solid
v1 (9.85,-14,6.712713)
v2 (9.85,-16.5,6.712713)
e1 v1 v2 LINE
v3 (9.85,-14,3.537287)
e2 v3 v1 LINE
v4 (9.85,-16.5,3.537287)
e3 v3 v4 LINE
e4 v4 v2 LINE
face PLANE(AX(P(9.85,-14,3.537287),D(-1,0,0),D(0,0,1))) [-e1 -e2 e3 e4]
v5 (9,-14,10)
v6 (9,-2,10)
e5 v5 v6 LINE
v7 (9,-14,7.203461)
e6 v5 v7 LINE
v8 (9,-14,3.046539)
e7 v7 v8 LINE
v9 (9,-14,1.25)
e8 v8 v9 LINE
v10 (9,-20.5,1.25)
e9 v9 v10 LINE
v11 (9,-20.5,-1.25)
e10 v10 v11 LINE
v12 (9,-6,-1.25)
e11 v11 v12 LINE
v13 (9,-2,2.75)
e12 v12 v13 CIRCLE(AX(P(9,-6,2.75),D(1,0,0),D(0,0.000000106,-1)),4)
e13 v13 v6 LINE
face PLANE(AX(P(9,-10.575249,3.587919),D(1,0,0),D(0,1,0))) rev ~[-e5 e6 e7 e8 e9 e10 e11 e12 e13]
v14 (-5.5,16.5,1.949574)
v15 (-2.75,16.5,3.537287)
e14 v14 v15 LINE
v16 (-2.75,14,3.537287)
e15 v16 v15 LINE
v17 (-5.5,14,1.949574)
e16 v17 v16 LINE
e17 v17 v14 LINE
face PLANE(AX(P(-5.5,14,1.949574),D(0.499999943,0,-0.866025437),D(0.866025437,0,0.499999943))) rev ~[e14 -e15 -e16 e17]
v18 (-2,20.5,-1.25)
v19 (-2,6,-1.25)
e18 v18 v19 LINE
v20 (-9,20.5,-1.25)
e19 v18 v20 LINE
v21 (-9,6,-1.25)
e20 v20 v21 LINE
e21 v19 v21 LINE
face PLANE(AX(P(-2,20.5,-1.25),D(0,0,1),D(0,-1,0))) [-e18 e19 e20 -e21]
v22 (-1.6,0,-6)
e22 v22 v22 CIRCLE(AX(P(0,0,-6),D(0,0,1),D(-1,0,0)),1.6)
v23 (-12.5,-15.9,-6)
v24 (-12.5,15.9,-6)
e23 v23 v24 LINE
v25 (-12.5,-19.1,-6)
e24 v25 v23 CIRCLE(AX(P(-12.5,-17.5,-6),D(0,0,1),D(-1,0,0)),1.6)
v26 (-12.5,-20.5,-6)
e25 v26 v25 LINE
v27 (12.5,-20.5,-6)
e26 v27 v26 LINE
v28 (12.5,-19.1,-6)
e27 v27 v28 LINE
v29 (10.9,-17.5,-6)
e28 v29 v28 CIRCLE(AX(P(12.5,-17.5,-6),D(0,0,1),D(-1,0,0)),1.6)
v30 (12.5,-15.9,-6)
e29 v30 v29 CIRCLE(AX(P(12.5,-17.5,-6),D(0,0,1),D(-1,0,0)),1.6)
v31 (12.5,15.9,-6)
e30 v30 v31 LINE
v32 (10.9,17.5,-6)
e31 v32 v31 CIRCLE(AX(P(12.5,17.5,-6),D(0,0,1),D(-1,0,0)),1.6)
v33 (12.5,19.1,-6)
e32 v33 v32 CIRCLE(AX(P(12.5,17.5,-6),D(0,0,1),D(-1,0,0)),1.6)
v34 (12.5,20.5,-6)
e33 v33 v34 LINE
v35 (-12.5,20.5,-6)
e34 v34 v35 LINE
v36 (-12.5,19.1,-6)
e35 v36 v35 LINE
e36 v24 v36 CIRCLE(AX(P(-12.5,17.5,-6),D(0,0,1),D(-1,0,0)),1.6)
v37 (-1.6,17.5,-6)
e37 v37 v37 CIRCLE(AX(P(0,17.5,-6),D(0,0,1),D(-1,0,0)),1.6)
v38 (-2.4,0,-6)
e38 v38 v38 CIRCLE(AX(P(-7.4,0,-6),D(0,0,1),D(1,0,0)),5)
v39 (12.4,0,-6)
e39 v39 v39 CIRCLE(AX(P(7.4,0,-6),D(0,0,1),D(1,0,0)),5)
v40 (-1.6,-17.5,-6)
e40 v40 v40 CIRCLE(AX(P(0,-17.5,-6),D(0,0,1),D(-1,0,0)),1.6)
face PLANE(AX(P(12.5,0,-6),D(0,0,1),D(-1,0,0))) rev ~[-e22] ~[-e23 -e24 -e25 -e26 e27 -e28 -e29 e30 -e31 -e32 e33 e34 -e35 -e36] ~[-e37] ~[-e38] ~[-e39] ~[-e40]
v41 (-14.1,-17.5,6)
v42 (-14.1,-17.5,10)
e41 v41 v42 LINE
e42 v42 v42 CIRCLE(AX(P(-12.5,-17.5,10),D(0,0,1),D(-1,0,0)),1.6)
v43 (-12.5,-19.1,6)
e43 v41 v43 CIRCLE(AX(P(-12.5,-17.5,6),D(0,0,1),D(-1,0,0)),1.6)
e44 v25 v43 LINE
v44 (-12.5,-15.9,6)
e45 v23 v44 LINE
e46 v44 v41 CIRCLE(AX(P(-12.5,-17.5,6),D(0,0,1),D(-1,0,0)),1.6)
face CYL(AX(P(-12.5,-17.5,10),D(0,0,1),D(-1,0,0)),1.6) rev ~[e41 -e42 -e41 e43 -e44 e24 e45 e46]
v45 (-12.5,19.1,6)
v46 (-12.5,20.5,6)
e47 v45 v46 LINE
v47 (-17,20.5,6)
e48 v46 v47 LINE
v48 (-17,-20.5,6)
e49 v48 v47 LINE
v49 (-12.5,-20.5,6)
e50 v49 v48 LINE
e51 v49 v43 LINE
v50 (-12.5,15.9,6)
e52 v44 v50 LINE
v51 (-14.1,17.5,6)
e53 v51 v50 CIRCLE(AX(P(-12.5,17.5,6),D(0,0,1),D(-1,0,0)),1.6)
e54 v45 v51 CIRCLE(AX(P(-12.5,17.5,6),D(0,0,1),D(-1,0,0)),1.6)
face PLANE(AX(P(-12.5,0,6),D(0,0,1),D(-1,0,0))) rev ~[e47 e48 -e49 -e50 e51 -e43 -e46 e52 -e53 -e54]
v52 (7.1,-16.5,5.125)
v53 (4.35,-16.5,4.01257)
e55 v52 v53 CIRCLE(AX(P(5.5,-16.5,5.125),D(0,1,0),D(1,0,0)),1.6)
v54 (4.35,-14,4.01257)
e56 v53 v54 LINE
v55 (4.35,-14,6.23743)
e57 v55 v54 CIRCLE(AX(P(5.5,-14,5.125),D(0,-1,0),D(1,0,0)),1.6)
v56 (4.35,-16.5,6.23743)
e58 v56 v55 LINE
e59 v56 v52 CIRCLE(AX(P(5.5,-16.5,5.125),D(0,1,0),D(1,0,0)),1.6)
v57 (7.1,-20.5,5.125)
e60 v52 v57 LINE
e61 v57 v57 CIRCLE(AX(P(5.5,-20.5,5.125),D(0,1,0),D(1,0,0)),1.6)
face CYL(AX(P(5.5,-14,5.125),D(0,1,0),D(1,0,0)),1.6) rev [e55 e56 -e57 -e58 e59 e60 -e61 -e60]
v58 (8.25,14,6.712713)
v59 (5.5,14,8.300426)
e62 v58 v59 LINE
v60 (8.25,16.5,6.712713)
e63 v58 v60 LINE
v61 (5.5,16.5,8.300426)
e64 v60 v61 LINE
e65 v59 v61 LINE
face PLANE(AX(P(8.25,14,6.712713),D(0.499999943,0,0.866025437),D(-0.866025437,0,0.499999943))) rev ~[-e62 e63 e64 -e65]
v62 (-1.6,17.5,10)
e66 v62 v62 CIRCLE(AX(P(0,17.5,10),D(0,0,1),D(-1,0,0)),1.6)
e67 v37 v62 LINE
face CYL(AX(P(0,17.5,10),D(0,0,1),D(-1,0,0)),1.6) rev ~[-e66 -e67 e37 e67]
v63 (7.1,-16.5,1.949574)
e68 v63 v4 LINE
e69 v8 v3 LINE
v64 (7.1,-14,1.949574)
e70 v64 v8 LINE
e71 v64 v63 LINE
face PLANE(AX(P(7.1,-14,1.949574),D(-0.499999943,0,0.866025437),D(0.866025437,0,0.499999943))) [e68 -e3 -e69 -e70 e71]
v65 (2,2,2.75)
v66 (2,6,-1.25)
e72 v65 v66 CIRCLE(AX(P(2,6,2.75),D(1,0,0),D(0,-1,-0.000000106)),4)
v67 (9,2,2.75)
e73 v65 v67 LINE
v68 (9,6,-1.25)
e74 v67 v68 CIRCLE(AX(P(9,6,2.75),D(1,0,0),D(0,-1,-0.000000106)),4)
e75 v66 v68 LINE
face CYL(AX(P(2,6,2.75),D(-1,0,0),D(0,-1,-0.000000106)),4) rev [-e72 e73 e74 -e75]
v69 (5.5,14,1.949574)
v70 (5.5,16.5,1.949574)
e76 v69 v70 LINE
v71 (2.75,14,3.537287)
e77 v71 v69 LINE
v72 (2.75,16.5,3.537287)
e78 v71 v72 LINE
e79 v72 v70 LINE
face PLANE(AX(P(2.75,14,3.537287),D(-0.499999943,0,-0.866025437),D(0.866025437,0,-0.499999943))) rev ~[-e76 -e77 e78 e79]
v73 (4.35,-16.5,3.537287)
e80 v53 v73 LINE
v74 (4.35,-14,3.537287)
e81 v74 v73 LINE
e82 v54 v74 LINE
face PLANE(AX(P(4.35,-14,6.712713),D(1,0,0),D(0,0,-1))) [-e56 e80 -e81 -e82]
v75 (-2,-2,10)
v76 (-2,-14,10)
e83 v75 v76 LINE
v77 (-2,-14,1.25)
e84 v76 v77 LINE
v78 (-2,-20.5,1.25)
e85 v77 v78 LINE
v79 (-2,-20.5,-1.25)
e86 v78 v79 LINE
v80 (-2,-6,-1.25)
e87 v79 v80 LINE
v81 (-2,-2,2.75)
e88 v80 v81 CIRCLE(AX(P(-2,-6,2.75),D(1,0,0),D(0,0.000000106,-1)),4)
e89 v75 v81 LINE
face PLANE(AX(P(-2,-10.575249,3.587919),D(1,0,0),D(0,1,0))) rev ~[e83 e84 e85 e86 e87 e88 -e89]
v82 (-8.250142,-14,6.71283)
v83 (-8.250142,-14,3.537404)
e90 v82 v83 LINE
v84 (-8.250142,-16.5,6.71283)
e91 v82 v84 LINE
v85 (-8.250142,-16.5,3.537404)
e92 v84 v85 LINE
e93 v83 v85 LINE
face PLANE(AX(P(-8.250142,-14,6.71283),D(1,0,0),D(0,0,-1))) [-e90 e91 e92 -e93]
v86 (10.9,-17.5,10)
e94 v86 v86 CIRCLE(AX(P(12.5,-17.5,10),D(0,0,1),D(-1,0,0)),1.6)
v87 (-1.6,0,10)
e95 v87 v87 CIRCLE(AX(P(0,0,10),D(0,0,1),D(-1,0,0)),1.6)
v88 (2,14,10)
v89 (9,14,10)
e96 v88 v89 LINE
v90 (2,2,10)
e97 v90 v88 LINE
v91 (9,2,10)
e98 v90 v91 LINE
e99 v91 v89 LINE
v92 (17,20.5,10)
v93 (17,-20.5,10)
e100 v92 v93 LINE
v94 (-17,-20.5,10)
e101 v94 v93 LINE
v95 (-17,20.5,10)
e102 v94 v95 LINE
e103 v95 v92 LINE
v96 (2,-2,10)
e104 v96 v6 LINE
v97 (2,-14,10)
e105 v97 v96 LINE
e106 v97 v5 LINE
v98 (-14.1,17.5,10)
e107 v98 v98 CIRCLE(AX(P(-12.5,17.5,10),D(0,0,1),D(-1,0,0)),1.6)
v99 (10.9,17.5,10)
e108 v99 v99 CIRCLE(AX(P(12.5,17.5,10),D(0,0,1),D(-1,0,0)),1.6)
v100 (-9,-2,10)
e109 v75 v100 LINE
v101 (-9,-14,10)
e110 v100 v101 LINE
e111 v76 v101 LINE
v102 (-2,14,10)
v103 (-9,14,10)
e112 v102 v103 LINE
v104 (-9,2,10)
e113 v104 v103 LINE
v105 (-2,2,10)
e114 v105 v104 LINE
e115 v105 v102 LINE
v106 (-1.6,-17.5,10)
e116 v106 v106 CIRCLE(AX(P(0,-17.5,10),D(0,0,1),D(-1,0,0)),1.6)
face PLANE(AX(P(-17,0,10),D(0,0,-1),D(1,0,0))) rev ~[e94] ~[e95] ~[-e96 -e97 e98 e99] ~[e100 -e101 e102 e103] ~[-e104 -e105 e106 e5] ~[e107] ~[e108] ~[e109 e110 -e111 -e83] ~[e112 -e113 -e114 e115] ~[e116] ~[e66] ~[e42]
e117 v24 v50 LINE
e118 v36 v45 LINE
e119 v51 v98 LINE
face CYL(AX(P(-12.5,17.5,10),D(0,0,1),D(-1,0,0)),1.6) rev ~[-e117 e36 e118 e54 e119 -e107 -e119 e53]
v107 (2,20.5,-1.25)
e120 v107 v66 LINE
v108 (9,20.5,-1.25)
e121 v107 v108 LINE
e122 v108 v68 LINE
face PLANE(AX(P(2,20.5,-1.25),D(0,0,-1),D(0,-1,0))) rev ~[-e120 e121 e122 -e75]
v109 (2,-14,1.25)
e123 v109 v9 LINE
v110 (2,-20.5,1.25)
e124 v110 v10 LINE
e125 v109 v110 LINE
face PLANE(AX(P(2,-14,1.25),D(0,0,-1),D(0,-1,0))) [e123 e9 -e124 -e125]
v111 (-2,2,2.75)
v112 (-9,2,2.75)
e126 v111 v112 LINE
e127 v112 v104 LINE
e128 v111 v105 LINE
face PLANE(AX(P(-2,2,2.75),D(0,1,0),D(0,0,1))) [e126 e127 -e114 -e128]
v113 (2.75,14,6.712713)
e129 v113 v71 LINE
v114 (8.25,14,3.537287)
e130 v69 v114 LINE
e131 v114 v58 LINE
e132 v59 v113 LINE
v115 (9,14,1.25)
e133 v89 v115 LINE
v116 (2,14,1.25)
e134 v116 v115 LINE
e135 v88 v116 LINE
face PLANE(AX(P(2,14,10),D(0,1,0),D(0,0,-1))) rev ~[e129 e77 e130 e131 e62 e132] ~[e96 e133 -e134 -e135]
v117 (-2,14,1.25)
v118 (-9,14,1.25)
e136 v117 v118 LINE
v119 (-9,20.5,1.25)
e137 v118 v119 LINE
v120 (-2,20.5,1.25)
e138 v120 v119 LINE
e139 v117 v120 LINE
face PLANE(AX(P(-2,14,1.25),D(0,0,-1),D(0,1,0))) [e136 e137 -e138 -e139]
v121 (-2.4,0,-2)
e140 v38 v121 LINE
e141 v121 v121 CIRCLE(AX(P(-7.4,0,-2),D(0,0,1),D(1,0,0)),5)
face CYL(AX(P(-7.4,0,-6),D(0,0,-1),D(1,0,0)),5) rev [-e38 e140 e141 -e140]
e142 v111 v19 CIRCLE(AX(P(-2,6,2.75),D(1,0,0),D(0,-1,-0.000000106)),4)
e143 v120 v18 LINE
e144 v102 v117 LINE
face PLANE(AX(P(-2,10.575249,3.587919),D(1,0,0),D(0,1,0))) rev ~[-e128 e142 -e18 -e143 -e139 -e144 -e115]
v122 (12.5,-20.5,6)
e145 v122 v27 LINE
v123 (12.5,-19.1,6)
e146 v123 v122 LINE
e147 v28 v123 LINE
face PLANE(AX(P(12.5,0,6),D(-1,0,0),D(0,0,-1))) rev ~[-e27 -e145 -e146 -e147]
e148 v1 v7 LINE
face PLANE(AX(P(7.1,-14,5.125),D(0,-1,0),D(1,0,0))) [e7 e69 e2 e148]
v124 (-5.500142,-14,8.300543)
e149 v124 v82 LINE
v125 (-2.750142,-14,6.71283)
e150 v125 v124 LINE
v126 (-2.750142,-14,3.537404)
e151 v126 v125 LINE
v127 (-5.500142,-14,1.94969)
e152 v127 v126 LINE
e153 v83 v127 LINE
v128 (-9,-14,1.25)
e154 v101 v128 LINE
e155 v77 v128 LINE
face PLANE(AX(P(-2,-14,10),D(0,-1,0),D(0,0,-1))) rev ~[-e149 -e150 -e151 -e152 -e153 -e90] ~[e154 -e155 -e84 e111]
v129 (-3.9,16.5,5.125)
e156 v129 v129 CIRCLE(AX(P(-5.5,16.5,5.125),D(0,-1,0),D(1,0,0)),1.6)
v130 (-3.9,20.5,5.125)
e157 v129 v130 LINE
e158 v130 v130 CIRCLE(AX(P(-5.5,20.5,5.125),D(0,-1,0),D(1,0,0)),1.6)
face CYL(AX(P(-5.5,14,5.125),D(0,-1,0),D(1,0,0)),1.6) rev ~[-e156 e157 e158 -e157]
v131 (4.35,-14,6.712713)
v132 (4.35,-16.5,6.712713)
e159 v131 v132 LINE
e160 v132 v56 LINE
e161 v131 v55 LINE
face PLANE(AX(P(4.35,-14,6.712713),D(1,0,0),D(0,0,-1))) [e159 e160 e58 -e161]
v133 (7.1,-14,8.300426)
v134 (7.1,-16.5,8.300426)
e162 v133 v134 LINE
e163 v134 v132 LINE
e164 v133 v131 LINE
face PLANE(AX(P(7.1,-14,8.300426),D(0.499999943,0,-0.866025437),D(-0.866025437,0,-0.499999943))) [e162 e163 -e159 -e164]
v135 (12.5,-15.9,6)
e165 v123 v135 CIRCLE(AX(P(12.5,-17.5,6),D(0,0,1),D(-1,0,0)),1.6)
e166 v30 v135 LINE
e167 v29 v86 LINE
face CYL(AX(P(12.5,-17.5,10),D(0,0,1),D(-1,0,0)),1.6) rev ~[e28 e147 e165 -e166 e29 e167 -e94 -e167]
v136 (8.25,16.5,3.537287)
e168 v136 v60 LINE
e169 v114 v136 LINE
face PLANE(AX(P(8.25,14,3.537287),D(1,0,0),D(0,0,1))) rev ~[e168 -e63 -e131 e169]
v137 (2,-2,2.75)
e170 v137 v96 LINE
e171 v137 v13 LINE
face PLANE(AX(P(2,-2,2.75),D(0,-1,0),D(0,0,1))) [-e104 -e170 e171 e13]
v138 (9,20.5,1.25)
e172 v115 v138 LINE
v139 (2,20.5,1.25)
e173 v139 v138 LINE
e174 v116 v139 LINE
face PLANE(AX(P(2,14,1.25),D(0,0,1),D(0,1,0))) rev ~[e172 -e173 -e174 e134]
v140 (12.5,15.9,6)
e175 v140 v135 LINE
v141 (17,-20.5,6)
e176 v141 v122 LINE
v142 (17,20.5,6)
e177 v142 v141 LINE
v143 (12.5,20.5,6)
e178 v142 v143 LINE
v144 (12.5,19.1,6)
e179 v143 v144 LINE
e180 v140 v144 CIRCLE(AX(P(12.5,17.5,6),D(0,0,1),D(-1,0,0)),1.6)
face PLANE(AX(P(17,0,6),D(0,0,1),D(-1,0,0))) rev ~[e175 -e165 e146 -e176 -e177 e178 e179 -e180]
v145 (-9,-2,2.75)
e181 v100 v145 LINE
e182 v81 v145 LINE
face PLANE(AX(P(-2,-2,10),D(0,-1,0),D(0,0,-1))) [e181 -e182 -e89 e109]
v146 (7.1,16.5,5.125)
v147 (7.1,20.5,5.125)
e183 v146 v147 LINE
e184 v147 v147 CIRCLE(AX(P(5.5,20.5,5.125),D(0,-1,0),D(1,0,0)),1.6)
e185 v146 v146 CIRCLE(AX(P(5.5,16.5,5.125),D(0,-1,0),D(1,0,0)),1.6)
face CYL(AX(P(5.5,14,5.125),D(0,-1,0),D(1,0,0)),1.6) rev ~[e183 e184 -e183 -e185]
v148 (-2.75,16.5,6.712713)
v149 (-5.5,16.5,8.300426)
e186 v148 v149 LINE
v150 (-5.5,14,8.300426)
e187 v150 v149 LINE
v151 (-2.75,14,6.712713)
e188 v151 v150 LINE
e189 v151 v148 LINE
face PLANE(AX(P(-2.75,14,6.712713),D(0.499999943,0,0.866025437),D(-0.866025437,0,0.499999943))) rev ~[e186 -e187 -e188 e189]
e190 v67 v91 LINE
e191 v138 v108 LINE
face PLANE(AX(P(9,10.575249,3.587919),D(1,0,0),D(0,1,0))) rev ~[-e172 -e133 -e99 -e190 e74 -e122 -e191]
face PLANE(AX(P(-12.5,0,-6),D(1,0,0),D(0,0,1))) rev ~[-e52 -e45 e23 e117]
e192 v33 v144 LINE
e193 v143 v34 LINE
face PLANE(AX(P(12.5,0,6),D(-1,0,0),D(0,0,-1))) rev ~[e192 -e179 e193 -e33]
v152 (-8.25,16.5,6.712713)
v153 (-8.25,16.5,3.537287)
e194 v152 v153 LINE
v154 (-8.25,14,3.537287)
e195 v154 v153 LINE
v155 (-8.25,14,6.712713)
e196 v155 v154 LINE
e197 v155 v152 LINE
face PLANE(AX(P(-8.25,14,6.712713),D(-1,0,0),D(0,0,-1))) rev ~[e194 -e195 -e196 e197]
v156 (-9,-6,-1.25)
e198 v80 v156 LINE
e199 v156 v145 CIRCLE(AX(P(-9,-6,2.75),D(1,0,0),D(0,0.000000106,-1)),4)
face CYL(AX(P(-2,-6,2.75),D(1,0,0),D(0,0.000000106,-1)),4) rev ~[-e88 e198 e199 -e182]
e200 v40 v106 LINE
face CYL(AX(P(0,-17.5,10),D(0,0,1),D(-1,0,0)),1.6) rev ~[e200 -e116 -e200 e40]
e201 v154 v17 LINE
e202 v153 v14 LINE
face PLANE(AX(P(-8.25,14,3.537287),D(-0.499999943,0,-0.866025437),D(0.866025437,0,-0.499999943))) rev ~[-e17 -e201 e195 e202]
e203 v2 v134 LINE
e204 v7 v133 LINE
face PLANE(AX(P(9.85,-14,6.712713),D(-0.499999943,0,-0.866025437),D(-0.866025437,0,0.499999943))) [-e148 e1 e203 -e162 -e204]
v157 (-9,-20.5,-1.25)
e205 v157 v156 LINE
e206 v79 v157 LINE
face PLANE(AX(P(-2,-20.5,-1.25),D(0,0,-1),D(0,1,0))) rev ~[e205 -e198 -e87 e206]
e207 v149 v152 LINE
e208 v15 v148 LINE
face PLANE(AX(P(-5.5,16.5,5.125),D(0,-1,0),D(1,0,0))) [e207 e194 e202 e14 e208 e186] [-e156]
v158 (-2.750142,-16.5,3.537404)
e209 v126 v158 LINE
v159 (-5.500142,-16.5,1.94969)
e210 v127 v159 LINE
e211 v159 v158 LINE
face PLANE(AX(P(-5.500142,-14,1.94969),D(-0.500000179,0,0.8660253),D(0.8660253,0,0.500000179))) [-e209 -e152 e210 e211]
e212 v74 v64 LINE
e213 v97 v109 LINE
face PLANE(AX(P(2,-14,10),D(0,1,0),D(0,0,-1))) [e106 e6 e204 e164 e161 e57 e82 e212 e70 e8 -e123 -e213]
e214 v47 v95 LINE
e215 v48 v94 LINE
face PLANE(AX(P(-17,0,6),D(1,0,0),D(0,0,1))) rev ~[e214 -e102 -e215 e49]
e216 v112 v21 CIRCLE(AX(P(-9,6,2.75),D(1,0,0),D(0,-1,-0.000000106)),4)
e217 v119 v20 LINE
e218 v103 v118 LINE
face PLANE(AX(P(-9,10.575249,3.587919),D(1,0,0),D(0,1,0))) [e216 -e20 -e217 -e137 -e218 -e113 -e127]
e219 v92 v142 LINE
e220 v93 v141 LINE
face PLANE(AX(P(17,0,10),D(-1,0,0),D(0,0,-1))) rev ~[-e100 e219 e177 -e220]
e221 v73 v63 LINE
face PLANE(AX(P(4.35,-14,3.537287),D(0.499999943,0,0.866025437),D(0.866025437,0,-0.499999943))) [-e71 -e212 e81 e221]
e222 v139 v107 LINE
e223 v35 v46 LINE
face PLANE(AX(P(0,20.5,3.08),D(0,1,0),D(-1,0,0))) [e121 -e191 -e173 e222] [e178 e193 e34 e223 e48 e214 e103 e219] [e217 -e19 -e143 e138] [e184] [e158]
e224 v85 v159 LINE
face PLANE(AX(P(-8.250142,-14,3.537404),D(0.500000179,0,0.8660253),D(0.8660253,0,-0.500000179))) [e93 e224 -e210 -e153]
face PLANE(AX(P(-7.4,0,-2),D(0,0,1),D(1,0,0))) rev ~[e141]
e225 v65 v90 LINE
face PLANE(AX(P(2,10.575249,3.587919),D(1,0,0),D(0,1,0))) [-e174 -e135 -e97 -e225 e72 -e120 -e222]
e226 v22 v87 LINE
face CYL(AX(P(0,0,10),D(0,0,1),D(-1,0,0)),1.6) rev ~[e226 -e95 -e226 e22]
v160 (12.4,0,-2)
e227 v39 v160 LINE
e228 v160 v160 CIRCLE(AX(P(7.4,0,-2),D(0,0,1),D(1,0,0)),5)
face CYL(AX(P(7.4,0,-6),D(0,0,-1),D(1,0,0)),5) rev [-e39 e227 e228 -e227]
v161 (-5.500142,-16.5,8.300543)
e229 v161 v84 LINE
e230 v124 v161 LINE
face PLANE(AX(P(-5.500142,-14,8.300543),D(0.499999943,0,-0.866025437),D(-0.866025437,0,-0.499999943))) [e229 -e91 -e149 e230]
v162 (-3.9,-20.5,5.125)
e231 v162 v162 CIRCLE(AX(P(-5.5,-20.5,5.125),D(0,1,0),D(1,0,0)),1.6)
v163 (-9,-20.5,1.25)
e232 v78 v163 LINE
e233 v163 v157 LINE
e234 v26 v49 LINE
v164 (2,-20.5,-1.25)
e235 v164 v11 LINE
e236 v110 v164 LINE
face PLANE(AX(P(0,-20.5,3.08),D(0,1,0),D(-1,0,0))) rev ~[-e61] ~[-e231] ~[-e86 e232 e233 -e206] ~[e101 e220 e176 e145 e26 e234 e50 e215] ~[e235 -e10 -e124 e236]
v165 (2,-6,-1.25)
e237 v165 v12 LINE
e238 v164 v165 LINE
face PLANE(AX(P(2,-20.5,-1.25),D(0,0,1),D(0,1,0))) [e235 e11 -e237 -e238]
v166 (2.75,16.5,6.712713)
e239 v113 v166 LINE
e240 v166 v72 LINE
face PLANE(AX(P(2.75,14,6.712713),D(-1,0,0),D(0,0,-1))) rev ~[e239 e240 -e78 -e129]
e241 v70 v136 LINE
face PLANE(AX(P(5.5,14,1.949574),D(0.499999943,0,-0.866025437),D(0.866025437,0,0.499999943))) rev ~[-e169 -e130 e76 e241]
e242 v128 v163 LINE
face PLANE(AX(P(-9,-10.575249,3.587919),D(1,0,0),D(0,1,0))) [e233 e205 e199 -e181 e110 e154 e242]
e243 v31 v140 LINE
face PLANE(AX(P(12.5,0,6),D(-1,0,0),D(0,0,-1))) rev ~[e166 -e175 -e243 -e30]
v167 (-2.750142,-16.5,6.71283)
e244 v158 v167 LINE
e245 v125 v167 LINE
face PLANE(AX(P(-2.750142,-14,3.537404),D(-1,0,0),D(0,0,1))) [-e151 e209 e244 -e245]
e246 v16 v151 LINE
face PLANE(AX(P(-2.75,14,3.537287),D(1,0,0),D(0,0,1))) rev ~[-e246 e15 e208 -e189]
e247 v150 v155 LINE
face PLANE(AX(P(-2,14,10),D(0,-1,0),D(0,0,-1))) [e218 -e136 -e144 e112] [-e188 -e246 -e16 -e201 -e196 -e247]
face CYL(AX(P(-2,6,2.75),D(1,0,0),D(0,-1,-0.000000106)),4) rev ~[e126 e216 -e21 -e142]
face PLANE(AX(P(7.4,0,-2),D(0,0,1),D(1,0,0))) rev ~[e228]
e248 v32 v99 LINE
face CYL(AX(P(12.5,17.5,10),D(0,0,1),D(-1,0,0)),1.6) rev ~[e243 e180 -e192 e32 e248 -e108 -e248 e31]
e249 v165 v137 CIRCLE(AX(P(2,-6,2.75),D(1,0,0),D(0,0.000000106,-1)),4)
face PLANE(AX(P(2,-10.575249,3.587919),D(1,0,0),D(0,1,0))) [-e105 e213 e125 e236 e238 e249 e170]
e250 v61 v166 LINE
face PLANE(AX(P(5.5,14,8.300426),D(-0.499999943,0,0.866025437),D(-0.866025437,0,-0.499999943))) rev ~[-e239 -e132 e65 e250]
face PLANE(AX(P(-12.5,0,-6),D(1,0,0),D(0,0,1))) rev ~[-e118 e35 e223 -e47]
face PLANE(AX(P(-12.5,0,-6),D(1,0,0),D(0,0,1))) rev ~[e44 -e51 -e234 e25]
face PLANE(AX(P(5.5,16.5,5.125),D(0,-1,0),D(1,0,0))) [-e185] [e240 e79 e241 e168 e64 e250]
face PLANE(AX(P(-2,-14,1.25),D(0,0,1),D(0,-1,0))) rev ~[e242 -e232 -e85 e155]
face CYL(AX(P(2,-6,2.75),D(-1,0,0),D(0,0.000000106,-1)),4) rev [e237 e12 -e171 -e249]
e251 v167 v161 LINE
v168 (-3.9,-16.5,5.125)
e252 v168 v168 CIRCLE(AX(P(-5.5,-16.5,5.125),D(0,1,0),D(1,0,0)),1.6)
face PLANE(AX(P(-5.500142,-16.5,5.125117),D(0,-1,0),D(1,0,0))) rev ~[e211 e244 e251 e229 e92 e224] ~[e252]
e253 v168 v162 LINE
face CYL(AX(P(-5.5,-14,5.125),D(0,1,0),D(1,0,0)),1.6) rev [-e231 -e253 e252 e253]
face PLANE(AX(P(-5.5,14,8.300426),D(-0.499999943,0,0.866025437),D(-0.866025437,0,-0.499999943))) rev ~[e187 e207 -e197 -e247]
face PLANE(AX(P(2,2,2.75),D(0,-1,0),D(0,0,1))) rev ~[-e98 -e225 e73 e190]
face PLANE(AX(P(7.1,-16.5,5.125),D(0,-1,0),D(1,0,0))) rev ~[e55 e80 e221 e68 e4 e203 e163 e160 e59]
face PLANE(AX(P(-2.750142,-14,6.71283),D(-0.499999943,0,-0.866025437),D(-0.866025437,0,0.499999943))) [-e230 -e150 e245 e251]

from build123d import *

# Parameters (mm, degrees)
PAD_DEPTH         = 20.5
SKETCH001_R       = 1.6
POCKET_DEPTH      = 16.001
POCKET_DEPTH_BACK = 0.001
POCKET001_DEPTH   = 7
POCKET002_DEPTH   = 1
POCKET003_DEPTH   = 7
SKETCH005_R       = 1.6
POCKET004_DEPTH   = 6.501
POCKET005_DEPTH   = 2.5
SKETCH007_R       = 1.6
POCKET006_DEPTH   = 6.501
POCKET007_DEPTH   = 2.5
SKETCH009_R       = 5
POCKET008_DEPTH   = 4


with BuildPart() as part:
    # Sketch → Pad (new body, symmetric)
    with BuildSketch(Plane.XZ):
        Polygon((12.5, 6), (12.5, -6), (-12.5, -6), (-12.5, 6), (-17, 6), (-17, 10), (17, 10), (17, 6), align=None)
    extrude(amount=PAD_DEPTH, both=True)

    # Sketch001 (on Face6 of Pad) → Pocket (cut, two sides)
    with BuildSketch(Plane(origin=(0, 0, 10), x_dir=(-1, 0, 0), z_dir=(0, 0, 1))) as pocket_sk:
        with Locations((-12.5, 17.5)):
            Circle(SKETCH001_R)
        with Locations((12.5, 17.5)):
            Circle(SKETCH001_R)
        with Locations((0, 17.5)):
            Circle(SKETCH001_R)
        with Locations((-12.5, -17.5)):
            Circle(SKETCH001_R)
        with Locations((12.5, -17.5)):
            Circle(SKETCH001_R)
        Circle(SKETCH001_R)
        with Locations((0, -17.5)):
            Circle(SKETCH001_R)
    extrude(amount=-POCKET_DEPTH, mode=Mode.SUBTRACT)
    extrude(pocket_sk.sketch, amount=POCKET_DEPTH_BACK, mode=Mode.SUBTRACT)

    # Sketch002 (on DatumPlane) → Pocket001 (cut)
    with BuildSketch(Plane.YZ.offset(2)):
        with BuildLine():
            ThreePointArc((-6, -1.25), (-3.171573, -0.078427), (-2, 2.75))
            Line((-2, 2.75), (-2, 10))
            Line((-14, 10), (-2, 10))
            Line((-14, 10), (-14, 1.25))
            Line((-14, 1.25), (-20.5, 1.25))
            Line((-20.5, 1.25), (-20.5, -1.25))
            Line((-20.5, -1.25), (-6, -1.25))
        make_face()
        with BuildLine():
            ThreePointArc((2, 2.75), (3.171573, -0.078427), (6, -1.25))
            Line((20.5, -1.25), (6, -1.25))
            Line((20.5, 1.25), (20.5, -1.25))
            Line((14, 1.25), (20.5, 1.25))
            Line((14, 10), (14, 1.25))
            Line((2, 10), (14, 10))
            Line((2, 2.75), (2, 10))
        make_face()
    extrude(amount=POCKET001_DEPTH, mode=Mode.SUBTRACT)

    # Sketch001 (on Face6 of Pad) → Pocket002 (cut)
    with BuildSketch(Plane(origin=(0, 0, 10), x_dir=(-1, 0, 0), z_dir=(0, 0, 1))):
        with Locations((-12.5, 17.5)):
            Circle(SKETCH001_R)
        with Locations((12.5, 17.5)):
            Circle(SKETCH001_R)
        with Locations((0, 17.5)):
            Circle(SKETCH001_R)
        with Locations((-12.5, -17.5)):
            Circle(SKETCH001_R)
        with Locations((12.5, -17.5)):
            Circle(SKETCH001_R)
        Circle(SKETCH001_R)
        with Locations((0, -17.5)):
            Circle(SKETCH001_R)
    extrude(amount=-POCKET002_DEPTH, mode=Mode.SUBTRACT)

    # Sketch004 (on DatumPlane) → Pocket003 (cut)
    with BuildSketch(Plane.YZ.offset(-2)):
        with BuildLine():
            ThreePointArc((-6, -1.25), (-3.171573, -0.078427), (-2, 2.75))
            Line((-2, 10), (-2, 2.75))
            Line((-2, 10), (-14, 10))
            Line((-14, 10), (-14, 1.25))
            Line((-14, 1.25), (-20.5, 1.25))
            Line((-20.5, 1.25), (-20.5, -1.25))
            Line((-20.5, -1.25), (-6, -1.25))
        make_face()
        with BuildLine():
            ThreePointArc((2, 2.75), (3.171573, -0.078427), (6, -1.25))
            Line((20.5, -1.25), (6, -1.25))
            Line((20.5, 1.25), (20.5, -1.25))
            Line((14, 1.25), (20.5, 1.25))
            Line((14, 10), (14, 1.25))
            Line((2, 10), (14, 10))
            Line((2, 2.75), (2, 10))
        make_face()
    extrude(amount=-POCKET003_DEPTH, mode=Mode.SUBTRACT)

    # Sketch005 (on DatumPlane) → Pocket004 (cut, through all)
    with BuildSketch(Plane.XZ.offset(14)):
        with Locations((-5.5, 5.125)):
            Circle(SKETCH005_R)
        with Locations((5.5, 5.125)):
            Circle(SKETCH005_R)
    extrude(amount=POCKET004_DEPTH, mode=Mode.SUBTRACT)

    # Sketch006 (on DatumPlane) → Pocket005 (cut)
    with BuildSketch(Plane.XZ.offset(14)):
        Polygon((-2.750142, 3.537404), (-2.750142, 6.71283), (-5.500142, 8.300543), (-8.250142, 6.71283), (-8.250142, 3.537404), (-5.500142, 1.94969), align=None)
        Polygon((9.85, 3.537287), (9.85, 6.712713), (7.1, 8.300426), (4.35, 6.712713), (4.35, 3.537287), (7.1, 1.949574), align=None)
    extrude(amount=POCKET005_DEPTH, mode=Mode.SUBTRACT)

    # Sketch007 (on DatumPlane) → Pocket006 (cut, through all)
    with BuildSketch(Plane.XZ.offset(-14)):
        with Locations((-5.5, 5.125)):
            Circle(SKETCH007_R)
        with Locations((5.5, 5.125)):
            Circle(SKETCH007_R)
    extrude(amount=-POCKET006_DEPTH, mode=Mode.SUBTRACT)

    # Sketch008 (on DatumPlane) → Pocket007 (cut)
    with BuildSketch(Plane.XZ.offset(-14)):
        Polygon((-2.75, 3.537287), (-2.75, 6.712713), (-5.5, 8.300426), (-8.25, 6.712713), (-8.25, 3.537287), (-5.5, 1.949574), align=None)
        Polygon((8.25, 3.537287), (8.25, 6.712713), (5.5, 8.300426), (2.75, 6.712713), (2.75, 3.537287), (5.5, 1.949574), align=None)
    extrude(amount=-POCKET007_DEPTH, mode=Mode.SUBTRACT)

    # Sketch009 (on DatumPlane) → Pocket008 (cut)
    with BuildSketch(Plane.XY.offset(-6)):
        with Locations((-7.4, 0)):
            Circle(SKETCH009_R)
        with Locations((7.4, 0)):
            Circle(SKETCH009_R)
    extrude(amount=POCKET008_DEPTH, mode=Mode.SUBTRACT)


solid = part.part
